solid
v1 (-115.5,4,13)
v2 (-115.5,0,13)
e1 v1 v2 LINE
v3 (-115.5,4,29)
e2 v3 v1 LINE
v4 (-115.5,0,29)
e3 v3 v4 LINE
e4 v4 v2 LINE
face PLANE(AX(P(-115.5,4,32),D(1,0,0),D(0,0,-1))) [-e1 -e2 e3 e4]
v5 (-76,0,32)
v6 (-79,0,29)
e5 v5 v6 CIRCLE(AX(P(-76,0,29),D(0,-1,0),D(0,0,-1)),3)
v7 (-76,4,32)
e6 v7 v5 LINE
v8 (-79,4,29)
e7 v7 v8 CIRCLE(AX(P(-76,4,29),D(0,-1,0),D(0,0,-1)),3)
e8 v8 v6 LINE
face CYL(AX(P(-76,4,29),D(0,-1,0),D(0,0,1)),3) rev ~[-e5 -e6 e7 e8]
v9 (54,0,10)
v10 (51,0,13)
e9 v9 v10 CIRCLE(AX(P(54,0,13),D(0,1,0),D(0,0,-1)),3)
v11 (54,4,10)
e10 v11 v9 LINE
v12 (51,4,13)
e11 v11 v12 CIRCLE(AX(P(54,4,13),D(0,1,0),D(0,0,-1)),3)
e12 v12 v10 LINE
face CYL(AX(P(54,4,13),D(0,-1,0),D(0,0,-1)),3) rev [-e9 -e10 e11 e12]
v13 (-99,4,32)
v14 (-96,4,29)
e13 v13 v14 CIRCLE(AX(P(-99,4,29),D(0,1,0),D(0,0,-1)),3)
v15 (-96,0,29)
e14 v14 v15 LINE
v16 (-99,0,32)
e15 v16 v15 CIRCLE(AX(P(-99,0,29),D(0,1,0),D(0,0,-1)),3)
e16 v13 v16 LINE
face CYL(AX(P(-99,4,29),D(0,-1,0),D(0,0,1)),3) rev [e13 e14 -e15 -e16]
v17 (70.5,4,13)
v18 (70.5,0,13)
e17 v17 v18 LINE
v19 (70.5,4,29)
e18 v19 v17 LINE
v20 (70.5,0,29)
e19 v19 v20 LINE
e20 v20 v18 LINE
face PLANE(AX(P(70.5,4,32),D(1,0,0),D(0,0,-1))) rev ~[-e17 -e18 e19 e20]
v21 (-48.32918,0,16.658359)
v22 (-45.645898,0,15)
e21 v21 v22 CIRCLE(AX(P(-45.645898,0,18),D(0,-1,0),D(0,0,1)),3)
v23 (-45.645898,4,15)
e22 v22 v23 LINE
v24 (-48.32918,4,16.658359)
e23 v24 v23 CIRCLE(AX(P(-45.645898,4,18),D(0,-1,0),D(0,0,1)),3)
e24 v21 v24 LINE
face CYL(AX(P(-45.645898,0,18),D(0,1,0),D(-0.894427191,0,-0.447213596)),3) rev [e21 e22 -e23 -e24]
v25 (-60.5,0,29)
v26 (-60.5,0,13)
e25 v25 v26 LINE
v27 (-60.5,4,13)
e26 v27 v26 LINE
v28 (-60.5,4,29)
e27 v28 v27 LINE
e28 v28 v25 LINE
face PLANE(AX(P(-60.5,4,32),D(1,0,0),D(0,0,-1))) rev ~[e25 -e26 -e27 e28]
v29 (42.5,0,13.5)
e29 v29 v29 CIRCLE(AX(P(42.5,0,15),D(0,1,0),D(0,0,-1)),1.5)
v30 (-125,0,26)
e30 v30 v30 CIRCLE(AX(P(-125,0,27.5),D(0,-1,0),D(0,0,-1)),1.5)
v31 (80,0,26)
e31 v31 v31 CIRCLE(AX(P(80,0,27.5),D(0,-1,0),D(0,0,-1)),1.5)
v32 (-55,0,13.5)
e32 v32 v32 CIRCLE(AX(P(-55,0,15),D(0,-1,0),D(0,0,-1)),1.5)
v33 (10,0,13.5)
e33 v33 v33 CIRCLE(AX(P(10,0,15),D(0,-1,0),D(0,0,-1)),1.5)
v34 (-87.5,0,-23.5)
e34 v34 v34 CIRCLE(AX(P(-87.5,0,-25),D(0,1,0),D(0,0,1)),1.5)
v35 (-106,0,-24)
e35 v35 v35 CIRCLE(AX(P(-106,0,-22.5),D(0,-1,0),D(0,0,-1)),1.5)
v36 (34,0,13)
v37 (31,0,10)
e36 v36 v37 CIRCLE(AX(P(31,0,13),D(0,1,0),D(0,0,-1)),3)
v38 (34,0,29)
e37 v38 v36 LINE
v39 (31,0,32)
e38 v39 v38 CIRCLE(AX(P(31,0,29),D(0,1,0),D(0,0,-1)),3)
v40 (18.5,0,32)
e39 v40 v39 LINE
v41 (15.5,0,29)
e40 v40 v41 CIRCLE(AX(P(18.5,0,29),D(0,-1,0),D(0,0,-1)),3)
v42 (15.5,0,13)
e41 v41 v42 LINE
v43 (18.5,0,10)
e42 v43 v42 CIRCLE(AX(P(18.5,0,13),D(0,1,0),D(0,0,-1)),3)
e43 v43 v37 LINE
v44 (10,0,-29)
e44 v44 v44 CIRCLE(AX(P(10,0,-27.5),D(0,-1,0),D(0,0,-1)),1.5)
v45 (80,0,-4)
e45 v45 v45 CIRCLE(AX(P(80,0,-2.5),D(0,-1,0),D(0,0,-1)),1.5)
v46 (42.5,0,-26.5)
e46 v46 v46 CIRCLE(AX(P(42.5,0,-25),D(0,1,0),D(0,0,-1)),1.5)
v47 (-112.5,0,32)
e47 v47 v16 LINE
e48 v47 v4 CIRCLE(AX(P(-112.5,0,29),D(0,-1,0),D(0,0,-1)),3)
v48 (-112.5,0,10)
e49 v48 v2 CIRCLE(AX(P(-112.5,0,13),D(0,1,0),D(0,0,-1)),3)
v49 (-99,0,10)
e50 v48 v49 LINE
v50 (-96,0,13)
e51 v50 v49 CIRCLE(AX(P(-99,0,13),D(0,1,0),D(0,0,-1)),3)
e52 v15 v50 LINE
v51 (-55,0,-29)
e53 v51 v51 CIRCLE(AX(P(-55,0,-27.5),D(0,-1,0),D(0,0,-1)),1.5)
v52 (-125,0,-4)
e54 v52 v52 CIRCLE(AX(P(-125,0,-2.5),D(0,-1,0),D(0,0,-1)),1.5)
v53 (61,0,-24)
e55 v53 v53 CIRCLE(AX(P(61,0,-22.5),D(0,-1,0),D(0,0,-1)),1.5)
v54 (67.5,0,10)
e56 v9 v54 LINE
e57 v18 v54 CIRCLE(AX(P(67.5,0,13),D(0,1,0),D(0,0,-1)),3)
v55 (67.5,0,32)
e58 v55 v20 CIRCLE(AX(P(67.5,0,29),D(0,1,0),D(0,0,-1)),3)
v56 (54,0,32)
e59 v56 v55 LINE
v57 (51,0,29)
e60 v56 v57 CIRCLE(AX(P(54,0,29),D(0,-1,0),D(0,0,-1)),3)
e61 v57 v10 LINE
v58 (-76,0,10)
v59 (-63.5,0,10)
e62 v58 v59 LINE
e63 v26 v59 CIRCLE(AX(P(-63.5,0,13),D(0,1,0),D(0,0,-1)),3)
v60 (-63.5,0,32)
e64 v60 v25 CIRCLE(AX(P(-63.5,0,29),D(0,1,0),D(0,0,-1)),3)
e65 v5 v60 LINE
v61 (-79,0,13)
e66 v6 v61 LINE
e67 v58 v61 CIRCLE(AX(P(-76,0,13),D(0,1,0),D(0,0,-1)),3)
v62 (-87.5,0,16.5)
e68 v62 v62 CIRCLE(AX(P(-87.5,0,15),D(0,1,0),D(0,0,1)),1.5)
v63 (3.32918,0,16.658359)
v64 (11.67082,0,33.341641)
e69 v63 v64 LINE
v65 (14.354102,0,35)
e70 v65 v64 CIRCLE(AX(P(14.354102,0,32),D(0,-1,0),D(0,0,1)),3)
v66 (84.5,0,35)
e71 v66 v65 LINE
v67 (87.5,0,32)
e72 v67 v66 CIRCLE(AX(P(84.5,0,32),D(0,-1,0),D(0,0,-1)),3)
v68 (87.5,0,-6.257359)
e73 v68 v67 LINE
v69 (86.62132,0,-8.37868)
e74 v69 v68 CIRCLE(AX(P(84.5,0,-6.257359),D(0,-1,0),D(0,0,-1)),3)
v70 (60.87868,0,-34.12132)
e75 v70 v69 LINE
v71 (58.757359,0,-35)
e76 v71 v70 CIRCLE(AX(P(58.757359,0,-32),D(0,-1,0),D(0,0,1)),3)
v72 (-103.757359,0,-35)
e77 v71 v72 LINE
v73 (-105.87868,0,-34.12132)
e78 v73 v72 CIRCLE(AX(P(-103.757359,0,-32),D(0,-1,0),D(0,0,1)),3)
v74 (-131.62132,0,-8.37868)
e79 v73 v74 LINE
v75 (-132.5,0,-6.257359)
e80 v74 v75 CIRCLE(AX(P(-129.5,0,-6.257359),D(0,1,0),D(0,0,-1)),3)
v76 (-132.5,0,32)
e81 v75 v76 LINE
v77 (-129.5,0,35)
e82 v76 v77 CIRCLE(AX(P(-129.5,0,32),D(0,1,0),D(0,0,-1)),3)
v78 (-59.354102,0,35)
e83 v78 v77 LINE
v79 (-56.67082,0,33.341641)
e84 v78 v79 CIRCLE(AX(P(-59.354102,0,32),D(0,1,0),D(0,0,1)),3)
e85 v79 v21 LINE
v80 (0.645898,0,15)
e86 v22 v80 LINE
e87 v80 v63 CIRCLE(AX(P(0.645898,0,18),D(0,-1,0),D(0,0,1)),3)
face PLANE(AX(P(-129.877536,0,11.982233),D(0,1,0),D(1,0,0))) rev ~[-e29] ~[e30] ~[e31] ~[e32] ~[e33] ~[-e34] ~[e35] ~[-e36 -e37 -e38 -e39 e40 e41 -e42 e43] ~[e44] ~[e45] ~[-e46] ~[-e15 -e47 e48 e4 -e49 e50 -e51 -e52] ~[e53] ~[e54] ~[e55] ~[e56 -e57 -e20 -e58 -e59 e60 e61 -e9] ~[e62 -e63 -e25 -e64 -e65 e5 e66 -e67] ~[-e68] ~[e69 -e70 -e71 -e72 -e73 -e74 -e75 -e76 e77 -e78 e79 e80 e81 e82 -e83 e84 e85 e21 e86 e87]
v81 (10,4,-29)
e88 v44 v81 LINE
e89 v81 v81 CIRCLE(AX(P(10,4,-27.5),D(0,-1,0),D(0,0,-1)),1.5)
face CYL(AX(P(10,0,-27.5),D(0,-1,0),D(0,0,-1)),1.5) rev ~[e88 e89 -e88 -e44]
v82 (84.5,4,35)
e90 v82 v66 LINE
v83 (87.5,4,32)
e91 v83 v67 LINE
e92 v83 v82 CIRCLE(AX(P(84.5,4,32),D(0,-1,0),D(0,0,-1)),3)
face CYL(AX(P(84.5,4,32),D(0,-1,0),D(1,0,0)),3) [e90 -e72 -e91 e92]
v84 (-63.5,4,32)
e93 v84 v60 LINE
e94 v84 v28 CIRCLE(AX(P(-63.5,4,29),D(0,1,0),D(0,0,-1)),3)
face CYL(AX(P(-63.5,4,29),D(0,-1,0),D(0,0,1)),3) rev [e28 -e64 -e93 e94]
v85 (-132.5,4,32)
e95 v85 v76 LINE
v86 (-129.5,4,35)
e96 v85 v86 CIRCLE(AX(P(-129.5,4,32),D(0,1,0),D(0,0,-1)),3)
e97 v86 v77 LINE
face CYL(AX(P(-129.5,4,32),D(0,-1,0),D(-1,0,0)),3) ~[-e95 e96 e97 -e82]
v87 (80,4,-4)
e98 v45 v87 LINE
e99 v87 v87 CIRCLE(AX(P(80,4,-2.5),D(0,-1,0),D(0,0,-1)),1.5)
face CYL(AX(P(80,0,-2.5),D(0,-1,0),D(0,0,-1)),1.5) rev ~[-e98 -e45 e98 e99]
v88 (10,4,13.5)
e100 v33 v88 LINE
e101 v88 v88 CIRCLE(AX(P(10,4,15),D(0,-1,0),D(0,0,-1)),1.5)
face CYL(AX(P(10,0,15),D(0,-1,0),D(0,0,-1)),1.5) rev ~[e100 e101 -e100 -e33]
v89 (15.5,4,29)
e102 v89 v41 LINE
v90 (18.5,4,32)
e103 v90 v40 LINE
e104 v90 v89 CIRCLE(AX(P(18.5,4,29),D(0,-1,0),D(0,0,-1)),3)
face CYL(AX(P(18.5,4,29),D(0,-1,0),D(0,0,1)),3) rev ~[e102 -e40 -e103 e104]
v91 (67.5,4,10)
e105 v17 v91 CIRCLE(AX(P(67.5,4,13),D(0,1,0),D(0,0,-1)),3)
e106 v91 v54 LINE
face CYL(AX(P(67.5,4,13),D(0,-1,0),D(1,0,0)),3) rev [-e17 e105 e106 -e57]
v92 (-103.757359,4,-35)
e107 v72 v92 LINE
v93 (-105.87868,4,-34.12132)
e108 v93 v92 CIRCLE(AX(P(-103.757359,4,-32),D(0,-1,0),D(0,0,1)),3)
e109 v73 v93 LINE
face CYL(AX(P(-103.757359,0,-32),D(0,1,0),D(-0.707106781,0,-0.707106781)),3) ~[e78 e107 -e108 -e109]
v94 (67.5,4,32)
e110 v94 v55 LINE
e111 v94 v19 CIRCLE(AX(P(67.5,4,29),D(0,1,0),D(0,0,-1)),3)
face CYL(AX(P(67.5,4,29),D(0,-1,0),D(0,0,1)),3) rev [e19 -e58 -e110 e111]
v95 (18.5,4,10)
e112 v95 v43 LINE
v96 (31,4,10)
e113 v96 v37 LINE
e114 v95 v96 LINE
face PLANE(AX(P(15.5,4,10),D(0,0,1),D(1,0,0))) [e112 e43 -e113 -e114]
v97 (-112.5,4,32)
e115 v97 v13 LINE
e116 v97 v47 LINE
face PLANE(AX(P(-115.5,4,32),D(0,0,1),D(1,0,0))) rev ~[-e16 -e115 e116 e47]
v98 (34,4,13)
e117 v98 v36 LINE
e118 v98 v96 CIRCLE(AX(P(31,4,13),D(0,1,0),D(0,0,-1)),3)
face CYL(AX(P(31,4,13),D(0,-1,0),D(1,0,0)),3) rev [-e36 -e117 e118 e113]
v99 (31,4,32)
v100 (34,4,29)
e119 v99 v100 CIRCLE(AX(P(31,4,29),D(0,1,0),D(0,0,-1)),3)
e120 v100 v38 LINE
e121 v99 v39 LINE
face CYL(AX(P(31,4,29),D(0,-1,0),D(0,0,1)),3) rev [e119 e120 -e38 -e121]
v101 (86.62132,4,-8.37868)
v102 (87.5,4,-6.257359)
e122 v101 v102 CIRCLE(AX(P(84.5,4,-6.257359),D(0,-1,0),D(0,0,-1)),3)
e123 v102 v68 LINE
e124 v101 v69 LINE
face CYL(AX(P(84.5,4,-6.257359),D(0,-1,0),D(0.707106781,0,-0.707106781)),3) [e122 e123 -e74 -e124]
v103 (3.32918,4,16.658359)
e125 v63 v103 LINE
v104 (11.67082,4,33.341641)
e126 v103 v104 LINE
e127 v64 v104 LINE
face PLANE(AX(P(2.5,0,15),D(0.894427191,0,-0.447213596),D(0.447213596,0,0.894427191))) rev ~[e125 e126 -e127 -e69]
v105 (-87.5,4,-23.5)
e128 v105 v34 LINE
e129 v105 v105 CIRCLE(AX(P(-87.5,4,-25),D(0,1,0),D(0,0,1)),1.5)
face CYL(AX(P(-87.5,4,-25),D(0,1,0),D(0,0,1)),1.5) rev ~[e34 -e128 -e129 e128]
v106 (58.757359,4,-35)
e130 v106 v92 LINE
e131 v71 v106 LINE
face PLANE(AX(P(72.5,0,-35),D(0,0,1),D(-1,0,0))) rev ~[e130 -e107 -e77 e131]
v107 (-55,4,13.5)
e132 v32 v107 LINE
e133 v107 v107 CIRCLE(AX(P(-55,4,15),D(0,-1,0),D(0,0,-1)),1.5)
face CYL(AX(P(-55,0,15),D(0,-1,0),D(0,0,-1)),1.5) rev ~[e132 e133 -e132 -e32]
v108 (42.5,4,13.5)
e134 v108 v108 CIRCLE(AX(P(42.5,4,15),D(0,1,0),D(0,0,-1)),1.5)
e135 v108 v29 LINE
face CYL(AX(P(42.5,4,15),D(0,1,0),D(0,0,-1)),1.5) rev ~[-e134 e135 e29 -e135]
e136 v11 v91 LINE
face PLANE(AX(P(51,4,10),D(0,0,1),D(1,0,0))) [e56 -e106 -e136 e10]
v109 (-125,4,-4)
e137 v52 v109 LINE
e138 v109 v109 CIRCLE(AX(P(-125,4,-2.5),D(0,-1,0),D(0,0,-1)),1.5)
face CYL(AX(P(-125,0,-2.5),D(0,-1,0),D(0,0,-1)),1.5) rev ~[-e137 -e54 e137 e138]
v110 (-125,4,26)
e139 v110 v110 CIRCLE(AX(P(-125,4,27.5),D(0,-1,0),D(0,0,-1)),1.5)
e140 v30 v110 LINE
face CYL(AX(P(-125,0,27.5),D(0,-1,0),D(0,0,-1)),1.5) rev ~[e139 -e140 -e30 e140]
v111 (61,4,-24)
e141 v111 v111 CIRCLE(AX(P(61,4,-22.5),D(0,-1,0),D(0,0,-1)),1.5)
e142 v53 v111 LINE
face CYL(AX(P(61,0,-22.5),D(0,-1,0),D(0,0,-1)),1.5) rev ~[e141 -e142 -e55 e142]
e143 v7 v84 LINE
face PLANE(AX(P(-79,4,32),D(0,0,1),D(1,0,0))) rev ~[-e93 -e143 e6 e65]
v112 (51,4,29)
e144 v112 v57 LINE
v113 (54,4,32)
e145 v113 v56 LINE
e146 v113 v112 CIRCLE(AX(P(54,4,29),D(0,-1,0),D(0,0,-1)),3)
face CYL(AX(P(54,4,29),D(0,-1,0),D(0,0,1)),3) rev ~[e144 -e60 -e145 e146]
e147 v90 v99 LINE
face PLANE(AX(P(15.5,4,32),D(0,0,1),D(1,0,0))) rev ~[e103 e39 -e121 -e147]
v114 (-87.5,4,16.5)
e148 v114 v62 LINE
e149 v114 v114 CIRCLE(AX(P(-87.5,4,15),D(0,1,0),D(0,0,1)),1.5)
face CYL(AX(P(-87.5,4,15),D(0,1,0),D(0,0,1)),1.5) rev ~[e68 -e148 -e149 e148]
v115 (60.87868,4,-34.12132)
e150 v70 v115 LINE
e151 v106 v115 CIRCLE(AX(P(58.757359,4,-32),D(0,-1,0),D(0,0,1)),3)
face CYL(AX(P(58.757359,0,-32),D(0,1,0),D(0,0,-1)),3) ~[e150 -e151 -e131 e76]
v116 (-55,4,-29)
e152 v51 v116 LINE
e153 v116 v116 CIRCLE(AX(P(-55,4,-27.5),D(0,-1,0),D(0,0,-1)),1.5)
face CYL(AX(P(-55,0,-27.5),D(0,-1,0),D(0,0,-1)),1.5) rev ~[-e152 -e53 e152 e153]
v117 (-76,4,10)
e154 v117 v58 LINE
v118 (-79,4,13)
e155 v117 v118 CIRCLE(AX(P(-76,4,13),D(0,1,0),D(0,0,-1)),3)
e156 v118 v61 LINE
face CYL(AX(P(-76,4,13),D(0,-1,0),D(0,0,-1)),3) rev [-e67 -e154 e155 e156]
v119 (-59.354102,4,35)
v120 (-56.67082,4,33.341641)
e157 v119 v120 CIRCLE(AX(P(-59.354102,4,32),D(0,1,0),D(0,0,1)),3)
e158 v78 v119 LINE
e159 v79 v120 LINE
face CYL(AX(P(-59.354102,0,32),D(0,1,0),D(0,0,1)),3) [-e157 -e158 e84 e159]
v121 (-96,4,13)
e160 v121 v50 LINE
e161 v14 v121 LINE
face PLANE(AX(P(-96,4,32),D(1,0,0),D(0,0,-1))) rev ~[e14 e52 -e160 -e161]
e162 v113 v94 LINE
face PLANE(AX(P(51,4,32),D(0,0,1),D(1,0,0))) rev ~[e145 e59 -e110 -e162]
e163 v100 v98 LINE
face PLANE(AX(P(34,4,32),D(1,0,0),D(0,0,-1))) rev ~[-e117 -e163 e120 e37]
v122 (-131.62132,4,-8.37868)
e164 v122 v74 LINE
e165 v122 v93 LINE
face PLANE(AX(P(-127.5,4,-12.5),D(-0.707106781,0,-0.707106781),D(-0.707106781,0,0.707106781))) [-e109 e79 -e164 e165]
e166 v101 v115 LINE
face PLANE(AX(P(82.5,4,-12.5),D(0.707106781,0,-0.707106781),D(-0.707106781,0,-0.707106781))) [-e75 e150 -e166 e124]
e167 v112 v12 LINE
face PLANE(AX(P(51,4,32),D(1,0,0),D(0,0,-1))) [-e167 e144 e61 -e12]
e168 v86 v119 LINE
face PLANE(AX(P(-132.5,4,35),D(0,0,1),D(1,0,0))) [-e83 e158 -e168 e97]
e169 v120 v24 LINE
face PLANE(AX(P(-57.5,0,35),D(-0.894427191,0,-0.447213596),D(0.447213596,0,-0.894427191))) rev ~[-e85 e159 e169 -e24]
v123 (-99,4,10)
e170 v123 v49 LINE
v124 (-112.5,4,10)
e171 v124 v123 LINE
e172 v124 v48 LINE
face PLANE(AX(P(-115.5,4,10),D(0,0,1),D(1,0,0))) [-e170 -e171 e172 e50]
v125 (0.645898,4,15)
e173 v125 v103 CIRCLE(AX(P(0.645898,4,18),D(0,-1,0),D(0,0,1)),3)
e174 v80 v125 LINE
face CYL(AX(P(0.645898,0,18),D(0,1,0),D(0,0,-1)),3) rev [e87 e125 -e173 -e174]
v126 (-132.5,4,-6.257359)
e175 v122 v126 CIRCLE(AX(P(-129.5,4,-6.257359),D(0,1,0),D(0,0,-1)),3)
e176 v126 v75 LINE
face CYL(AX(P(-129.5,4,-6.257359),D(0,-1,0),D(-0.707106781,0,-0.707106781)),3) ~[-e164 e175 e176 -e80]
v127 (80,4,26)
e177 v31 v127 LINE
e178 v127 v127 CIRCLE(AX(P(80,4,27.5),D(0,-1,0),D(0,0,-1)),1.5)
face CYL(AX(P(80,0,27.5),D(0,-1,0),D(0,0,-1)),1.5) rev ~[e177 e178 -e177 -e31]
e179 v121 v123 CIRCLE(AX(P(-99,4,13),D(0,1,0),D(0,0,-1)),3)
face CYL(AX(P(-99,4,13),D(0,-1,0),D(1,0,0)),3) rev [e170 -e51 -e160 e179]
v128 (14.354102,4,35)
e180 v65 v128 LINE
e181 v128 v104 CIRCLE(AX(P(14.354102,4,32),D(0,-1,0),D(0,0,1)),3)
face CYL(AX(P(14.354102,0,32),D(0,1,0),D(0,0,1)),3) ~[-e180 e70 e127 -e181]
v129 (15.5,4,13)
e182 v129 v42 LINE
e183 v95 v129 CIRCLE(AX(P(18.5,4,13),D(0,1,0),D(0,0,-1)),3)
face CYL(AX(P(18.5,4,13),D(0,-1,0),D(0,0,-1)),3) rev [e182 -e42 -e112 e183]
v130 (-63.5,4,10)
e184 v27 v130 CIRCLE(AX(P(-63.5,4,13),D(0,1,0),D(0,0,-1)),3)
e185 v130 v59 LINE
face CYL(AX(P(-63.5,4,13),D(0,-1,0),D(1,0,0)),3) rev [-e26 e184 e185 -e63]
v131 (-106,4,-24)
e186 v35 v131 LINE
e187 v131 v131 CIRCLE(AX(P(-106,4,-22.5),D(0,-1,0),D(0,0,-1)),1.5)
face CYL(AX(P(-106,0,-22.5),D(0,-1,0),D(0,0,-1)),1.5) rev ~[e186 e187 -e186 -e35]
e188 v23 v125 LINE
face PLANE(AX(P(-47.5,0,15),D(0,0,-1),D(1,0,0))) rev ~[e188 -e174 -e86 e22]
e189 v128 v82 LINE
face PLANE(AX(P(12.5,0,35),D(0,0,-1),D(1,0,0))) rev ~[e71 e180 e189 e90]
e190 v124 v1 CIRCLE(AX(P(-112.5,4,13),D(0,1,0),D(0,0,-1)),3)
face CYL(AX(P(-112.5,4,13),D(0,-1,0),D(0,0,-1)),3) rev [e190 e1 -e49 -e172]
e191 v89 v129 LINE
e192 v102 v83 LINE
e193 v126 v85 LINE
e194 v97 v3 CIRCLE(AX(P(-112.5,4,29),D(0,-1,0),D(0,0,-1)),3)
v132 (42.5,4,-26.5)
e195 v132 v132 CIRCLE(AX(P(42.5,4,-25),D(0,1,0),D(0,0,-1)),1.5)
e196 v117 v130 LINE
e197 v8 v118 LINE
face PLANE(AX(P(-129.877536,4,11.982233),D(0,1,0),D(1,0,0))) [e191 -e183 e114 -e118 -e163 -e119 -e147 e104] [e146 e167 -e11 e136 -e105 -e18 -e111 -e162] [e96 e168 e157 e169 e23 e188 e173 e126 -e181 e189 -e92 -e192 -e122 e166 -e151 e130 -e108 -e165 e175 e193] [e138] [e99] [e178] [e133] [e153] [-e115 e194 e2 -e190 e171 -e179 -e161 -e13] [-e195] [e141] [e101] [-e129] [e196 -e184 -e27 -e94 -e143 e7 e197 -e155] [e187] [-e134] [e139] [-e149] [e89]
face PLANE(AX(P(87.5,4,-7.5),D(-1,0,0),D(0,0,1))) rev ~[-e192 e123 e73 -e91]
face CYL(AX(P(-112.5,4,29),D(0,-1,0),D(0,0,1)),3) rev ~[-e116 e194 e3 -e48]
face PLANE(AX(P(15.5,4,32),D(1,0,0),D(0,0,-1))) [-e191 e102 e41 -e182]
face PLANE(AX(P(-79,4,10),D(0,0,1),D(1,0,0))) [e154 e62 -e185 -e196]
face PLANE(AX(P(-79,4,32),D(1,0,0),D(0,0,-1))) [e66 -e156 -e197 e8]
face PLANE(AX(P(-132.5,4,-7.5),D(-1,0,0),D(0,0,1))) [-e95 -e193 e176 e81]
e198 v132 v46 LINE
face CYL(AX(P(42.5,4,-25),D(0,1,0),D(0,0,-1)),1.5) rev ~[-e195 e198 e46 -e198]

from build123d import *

# Parameters (mm, degrees)
EXTRUDE_1_DEPTH     = 4
SKETCH_2_R          = 1.5
CUT_EXTRUDE_1_DEPTH = 4
SKETCH_3_W          = 10
SKETCH_3_H          = 69.678883607
SKETCH_3_H_2        = 93.047687854
CUT_EXTRUDE_2_DEPTH = 4
CUT_EXTRUDE_3_DEPTH = 4
EXTRUDE_2_DEPTH     = 4
SKETCH_6_R          = 1.5
CUT_EXTRUDE_4_DEPTH = 10
SKETCH_7_W          = 19.5
SKETCH_7_H          = 22
SKETCH_7_W_2        = 18.5
CUT_EXTRUDE_5_DEPTH = 10
FILLET_1_R          = 3
FILLET_2_R          = 3
FILLET_3_R          = 3
SKETCH_8_R          = 1.5
CUT_EXTRUDE_6_DEPTH = 10


with BuildPart() as part:
    # 草图1 → 凸台-拉伸1 (new body)
    with BuildSketch(Plane(origin=(0, 0, 0), x_dir=(1, 0, 0), z_dir=(0, 1, 0))):
        Polygon((-137.5, -35), (-67.5, -35), (-57.5, -35), (-47.5, -15), (2.5, -15), (12.5, -35), (22.5, -35), (92.5, -35), (92.5, 15), (72.5, 35), (-117.5, 35), (-137.5, 15), align=None)
    extrude(amount=EXTRUDE_1_DEPTH)

    # 草图2 → 切除-拉伸1 (cut)
    with BuildSketch(Plane(origin=(0, 4, 0), x_dir=(1, 0, 0), z_dir=(0, 1, 0))):
        with Locations(Location((-87.5, -15, 0), (0, 0, 270))):
            Circle(SKETCH_2_R)
        with Locations(Location((-87.5, 25, 0), (0, 0, 270))):
            Circle(SKETCH_2_R)
        with Locations(Location((42.5, 25, 0), (0, 0, 90))):
            Circle(SKETCH_2_R)
        with Locations(Location((42.5, -15, 0), (0, 0, 90))):
            Circle(SKETCH_2_R)
    extrude(amount=-CUT_EXTRUDE_1_DEPTH, mode=Mode.SUBTRACT)

    # 草图3 → 切除-拉伸2 (cut)
    with BuildSketch(Plane(origin=(0, 4, 0), x_dir=(1, 0, 0), z_dir=(0, 1, 0))):
        with Locations((-132.5, -0.160558196)):
            Rectangle(SKETCH_3_W, SKETCH_3_H)
        with Locations((87.5, 11.523843927)):
            Rectangle(SKETCH_3_W, SKETCH_3_H_2)
    extrude(amount=-CUT_EXTRUDE_2_DEPTH, mode=Mode.SUBTRACT)

    # 草图4 → 切除-拉伸3 (cut)
    with BuildSketch(Plane(origin=(0, 4, 0), x_dir=(1, 0, 0), z_dir=(0, 1, 0))):
        Polygon((-127.5, 12.5), (-92.197077218, 47.802922782), (-150.178982695, 47.802922782), align=None)
        Polygon((82.5, 12.5), (37.005283765, 57.994716235), (96.544114713, 56.205234398), align=None)
    extrude(amount=-CUT_EXTRUDE_3_DEPTH, mode=Mode.SUBTRACT)

    # 草图5 → 凸台-拉伸2 (add)
    with BuildSketch(Plane(origin=(0, 4, 0), x_dir=(1, 0, 0), z_dir=(0, 1, 0))):
        Polygon((-127.5, 12.5), (-132.5, 7.5), (-132.5, -35), (-127.5, -35), align=None)
        Polygon((82.5, -35), (82.5, 12.5), (87.5, 7.5), (87.5, -35), align=None)
    extrude(amount=-EXTRUDE_2_DEPTH)

    # 草图6 → 切除-拉伸4 (cut)
    with BuildSketch(Plane(origin=(0, 4, 0), x_dir=(1, 0, 0), z_dir=(0, 1, 0))):
        with Locations(Location((59.5, -29, 0), (0, 0, 270))):
            Circle(SKETCH_6_R)
        with Locations(Location((59.5, -19, 0), (0, 0, 270))):
            Circle(SKETCH_6_R)
        with Locations(Location((23.5, -19, 0), (0, 0, 270))):
            Circle(SKETCH_6_R)
        with Locations(Location((23.5, -29, 0), (0, 0, 270))):
            Circle(SKETCH_6_R)
        with Locations(Location((-68.5, -29, 0), (0, 0, 90))):
            Circle(SKETCH_6_R)
        with Locations(Location((-68.5, -19, 0), (0, 0, 90))):
            Circle(SKETCH_6_R)
        with Locations(Location((-104.5, -19, 0), (0, 0, 90))):
            Circle(SKETCH_6_R)
        with Locations(Location((-104.5, -29, 0), (0, 0, 90))):
            Circle(SKETCH_6_R)
    extrude(amount=-CUT_EXTRUDE_4_DEPTH, mode=Mode.SUBTRACT)

    # 草图7 → 切除-拉伸5 (cut)
    with BuildSketch(Plane(origin=(0, 4, 0), x_dir=(1, 0, 0), z_dir=(0, 1, 0))):
        with Locations((-105.75, -21)):
            Rectangle(SKETCH_7_W, SKETCH_7_H)
        with Locations((-69.75, -21)):
            Rectangle(SKETCH_7_W_2, SKETCH_7_H)
        with Locations((24.75, -21)):
            Rectangle(SKETCH_7_W_2, SKETCH_7_H)
        with Locations((60.75, -21)):
            Rectangle(SKETCH_7_W, SKETCH_7_H)
    extrude(amount=-CUT_EXTRUDE_5_DEPTH, mode=Mode.SUBTRACT)

    # 圆角1
    fillet_1_edges = [part.edges().sort_by_distance(p)[0] for p in [
        (-115.5, 2, 32),
        (-115.5, 2, 10),
        (-96, 2, 10),
        (-96, 2, 32),
        (-79, 2, 32),
        (-79, 2, 10),
        (-60.5, 2, 10),
        (-60.5, 2, 32),
    ]]
    fillet(fillet_1_edges, radius=FILLET_1_R)

    # 圆角2
    fillet_2_edges = [part.edges().sort_by_distance(p)[0] for p in [
        (15.5, 2, 10),
        (34, 2, 10),
        (34, 2, 32),
        (15.5, 2, 32),
        (51, 2, 10),
        (70.5, 2, 10),
        (70.5, 2, 32),
        (51, 2, 32),
    ]]
    fillet(fillet_2_edges, radius=FILLET_2_R)

    # 圆角3
    fillet_3_edges = [part.edges().sort_by_distance(p)[0] for p in [
        (60, 2, -35),
        (-132.5, 2, -7.5),
        (-132.5, 2, 35),
        (87.5, 2, -7.5),
        (87.5, 2, 35),
        (12.5, 2, 35),
        (2.5, 2, 15),
        (-47.5, 2, 15),
        (-57.5, 2, 35),
        (-105, 2, -35),
    ]]
    fillet(fillet_3_edges, radius=FILLET_3_R)

    # 草图8 → 切除-拉伸6 (cut)
    with BuildSketch(Plane.XZ):
        with Locations(Location((-125, 27.5, 0), (0, 0, 270))):
            Circle(SKETCH_8_R)
        with Locations(Location((-125, -2.5, 0), (0, 0, 270))):
            Circle(SKETCH_8_R)
        with Locations(Location((-55, 15, 0), (0, 0, 270))):
            Circle(SKETCH_8_R)
        with Locations(Location((-55, -27.5, 0), (0, 0, 270))):
            Circle(SKETCH_8_R)
        with Locations(Location((10, -27.5, 0), (0, 0, 270))):
            Circle(SKETCH_8_R)
        with Locations(Location((10, 15, 0), (0, 0, 270))):
            Circle(SKETCH_8_R)
        with Locations(Location((80, -2.5, 0), (0, 0, 270))):
            Circle(SKETCH_8_R)
        with Locations(Location((80, 27.5, 0), (0, 0, 270))):
            Circle(SKETCH_8_R)
        with Locations(Location((-106, -22.5, 0), (0, 0, 270))):
            Circle(SKETCH_8_R)
        with Locations(Location((61, -22.5, 0), (0, 0, 270))):
            Circle(SKETCH_8_R)
    extrude(amount=-CUT_EXTRUDE_6_DEPTH, mode=Mode.SUBTRACT)


solid = part.part
